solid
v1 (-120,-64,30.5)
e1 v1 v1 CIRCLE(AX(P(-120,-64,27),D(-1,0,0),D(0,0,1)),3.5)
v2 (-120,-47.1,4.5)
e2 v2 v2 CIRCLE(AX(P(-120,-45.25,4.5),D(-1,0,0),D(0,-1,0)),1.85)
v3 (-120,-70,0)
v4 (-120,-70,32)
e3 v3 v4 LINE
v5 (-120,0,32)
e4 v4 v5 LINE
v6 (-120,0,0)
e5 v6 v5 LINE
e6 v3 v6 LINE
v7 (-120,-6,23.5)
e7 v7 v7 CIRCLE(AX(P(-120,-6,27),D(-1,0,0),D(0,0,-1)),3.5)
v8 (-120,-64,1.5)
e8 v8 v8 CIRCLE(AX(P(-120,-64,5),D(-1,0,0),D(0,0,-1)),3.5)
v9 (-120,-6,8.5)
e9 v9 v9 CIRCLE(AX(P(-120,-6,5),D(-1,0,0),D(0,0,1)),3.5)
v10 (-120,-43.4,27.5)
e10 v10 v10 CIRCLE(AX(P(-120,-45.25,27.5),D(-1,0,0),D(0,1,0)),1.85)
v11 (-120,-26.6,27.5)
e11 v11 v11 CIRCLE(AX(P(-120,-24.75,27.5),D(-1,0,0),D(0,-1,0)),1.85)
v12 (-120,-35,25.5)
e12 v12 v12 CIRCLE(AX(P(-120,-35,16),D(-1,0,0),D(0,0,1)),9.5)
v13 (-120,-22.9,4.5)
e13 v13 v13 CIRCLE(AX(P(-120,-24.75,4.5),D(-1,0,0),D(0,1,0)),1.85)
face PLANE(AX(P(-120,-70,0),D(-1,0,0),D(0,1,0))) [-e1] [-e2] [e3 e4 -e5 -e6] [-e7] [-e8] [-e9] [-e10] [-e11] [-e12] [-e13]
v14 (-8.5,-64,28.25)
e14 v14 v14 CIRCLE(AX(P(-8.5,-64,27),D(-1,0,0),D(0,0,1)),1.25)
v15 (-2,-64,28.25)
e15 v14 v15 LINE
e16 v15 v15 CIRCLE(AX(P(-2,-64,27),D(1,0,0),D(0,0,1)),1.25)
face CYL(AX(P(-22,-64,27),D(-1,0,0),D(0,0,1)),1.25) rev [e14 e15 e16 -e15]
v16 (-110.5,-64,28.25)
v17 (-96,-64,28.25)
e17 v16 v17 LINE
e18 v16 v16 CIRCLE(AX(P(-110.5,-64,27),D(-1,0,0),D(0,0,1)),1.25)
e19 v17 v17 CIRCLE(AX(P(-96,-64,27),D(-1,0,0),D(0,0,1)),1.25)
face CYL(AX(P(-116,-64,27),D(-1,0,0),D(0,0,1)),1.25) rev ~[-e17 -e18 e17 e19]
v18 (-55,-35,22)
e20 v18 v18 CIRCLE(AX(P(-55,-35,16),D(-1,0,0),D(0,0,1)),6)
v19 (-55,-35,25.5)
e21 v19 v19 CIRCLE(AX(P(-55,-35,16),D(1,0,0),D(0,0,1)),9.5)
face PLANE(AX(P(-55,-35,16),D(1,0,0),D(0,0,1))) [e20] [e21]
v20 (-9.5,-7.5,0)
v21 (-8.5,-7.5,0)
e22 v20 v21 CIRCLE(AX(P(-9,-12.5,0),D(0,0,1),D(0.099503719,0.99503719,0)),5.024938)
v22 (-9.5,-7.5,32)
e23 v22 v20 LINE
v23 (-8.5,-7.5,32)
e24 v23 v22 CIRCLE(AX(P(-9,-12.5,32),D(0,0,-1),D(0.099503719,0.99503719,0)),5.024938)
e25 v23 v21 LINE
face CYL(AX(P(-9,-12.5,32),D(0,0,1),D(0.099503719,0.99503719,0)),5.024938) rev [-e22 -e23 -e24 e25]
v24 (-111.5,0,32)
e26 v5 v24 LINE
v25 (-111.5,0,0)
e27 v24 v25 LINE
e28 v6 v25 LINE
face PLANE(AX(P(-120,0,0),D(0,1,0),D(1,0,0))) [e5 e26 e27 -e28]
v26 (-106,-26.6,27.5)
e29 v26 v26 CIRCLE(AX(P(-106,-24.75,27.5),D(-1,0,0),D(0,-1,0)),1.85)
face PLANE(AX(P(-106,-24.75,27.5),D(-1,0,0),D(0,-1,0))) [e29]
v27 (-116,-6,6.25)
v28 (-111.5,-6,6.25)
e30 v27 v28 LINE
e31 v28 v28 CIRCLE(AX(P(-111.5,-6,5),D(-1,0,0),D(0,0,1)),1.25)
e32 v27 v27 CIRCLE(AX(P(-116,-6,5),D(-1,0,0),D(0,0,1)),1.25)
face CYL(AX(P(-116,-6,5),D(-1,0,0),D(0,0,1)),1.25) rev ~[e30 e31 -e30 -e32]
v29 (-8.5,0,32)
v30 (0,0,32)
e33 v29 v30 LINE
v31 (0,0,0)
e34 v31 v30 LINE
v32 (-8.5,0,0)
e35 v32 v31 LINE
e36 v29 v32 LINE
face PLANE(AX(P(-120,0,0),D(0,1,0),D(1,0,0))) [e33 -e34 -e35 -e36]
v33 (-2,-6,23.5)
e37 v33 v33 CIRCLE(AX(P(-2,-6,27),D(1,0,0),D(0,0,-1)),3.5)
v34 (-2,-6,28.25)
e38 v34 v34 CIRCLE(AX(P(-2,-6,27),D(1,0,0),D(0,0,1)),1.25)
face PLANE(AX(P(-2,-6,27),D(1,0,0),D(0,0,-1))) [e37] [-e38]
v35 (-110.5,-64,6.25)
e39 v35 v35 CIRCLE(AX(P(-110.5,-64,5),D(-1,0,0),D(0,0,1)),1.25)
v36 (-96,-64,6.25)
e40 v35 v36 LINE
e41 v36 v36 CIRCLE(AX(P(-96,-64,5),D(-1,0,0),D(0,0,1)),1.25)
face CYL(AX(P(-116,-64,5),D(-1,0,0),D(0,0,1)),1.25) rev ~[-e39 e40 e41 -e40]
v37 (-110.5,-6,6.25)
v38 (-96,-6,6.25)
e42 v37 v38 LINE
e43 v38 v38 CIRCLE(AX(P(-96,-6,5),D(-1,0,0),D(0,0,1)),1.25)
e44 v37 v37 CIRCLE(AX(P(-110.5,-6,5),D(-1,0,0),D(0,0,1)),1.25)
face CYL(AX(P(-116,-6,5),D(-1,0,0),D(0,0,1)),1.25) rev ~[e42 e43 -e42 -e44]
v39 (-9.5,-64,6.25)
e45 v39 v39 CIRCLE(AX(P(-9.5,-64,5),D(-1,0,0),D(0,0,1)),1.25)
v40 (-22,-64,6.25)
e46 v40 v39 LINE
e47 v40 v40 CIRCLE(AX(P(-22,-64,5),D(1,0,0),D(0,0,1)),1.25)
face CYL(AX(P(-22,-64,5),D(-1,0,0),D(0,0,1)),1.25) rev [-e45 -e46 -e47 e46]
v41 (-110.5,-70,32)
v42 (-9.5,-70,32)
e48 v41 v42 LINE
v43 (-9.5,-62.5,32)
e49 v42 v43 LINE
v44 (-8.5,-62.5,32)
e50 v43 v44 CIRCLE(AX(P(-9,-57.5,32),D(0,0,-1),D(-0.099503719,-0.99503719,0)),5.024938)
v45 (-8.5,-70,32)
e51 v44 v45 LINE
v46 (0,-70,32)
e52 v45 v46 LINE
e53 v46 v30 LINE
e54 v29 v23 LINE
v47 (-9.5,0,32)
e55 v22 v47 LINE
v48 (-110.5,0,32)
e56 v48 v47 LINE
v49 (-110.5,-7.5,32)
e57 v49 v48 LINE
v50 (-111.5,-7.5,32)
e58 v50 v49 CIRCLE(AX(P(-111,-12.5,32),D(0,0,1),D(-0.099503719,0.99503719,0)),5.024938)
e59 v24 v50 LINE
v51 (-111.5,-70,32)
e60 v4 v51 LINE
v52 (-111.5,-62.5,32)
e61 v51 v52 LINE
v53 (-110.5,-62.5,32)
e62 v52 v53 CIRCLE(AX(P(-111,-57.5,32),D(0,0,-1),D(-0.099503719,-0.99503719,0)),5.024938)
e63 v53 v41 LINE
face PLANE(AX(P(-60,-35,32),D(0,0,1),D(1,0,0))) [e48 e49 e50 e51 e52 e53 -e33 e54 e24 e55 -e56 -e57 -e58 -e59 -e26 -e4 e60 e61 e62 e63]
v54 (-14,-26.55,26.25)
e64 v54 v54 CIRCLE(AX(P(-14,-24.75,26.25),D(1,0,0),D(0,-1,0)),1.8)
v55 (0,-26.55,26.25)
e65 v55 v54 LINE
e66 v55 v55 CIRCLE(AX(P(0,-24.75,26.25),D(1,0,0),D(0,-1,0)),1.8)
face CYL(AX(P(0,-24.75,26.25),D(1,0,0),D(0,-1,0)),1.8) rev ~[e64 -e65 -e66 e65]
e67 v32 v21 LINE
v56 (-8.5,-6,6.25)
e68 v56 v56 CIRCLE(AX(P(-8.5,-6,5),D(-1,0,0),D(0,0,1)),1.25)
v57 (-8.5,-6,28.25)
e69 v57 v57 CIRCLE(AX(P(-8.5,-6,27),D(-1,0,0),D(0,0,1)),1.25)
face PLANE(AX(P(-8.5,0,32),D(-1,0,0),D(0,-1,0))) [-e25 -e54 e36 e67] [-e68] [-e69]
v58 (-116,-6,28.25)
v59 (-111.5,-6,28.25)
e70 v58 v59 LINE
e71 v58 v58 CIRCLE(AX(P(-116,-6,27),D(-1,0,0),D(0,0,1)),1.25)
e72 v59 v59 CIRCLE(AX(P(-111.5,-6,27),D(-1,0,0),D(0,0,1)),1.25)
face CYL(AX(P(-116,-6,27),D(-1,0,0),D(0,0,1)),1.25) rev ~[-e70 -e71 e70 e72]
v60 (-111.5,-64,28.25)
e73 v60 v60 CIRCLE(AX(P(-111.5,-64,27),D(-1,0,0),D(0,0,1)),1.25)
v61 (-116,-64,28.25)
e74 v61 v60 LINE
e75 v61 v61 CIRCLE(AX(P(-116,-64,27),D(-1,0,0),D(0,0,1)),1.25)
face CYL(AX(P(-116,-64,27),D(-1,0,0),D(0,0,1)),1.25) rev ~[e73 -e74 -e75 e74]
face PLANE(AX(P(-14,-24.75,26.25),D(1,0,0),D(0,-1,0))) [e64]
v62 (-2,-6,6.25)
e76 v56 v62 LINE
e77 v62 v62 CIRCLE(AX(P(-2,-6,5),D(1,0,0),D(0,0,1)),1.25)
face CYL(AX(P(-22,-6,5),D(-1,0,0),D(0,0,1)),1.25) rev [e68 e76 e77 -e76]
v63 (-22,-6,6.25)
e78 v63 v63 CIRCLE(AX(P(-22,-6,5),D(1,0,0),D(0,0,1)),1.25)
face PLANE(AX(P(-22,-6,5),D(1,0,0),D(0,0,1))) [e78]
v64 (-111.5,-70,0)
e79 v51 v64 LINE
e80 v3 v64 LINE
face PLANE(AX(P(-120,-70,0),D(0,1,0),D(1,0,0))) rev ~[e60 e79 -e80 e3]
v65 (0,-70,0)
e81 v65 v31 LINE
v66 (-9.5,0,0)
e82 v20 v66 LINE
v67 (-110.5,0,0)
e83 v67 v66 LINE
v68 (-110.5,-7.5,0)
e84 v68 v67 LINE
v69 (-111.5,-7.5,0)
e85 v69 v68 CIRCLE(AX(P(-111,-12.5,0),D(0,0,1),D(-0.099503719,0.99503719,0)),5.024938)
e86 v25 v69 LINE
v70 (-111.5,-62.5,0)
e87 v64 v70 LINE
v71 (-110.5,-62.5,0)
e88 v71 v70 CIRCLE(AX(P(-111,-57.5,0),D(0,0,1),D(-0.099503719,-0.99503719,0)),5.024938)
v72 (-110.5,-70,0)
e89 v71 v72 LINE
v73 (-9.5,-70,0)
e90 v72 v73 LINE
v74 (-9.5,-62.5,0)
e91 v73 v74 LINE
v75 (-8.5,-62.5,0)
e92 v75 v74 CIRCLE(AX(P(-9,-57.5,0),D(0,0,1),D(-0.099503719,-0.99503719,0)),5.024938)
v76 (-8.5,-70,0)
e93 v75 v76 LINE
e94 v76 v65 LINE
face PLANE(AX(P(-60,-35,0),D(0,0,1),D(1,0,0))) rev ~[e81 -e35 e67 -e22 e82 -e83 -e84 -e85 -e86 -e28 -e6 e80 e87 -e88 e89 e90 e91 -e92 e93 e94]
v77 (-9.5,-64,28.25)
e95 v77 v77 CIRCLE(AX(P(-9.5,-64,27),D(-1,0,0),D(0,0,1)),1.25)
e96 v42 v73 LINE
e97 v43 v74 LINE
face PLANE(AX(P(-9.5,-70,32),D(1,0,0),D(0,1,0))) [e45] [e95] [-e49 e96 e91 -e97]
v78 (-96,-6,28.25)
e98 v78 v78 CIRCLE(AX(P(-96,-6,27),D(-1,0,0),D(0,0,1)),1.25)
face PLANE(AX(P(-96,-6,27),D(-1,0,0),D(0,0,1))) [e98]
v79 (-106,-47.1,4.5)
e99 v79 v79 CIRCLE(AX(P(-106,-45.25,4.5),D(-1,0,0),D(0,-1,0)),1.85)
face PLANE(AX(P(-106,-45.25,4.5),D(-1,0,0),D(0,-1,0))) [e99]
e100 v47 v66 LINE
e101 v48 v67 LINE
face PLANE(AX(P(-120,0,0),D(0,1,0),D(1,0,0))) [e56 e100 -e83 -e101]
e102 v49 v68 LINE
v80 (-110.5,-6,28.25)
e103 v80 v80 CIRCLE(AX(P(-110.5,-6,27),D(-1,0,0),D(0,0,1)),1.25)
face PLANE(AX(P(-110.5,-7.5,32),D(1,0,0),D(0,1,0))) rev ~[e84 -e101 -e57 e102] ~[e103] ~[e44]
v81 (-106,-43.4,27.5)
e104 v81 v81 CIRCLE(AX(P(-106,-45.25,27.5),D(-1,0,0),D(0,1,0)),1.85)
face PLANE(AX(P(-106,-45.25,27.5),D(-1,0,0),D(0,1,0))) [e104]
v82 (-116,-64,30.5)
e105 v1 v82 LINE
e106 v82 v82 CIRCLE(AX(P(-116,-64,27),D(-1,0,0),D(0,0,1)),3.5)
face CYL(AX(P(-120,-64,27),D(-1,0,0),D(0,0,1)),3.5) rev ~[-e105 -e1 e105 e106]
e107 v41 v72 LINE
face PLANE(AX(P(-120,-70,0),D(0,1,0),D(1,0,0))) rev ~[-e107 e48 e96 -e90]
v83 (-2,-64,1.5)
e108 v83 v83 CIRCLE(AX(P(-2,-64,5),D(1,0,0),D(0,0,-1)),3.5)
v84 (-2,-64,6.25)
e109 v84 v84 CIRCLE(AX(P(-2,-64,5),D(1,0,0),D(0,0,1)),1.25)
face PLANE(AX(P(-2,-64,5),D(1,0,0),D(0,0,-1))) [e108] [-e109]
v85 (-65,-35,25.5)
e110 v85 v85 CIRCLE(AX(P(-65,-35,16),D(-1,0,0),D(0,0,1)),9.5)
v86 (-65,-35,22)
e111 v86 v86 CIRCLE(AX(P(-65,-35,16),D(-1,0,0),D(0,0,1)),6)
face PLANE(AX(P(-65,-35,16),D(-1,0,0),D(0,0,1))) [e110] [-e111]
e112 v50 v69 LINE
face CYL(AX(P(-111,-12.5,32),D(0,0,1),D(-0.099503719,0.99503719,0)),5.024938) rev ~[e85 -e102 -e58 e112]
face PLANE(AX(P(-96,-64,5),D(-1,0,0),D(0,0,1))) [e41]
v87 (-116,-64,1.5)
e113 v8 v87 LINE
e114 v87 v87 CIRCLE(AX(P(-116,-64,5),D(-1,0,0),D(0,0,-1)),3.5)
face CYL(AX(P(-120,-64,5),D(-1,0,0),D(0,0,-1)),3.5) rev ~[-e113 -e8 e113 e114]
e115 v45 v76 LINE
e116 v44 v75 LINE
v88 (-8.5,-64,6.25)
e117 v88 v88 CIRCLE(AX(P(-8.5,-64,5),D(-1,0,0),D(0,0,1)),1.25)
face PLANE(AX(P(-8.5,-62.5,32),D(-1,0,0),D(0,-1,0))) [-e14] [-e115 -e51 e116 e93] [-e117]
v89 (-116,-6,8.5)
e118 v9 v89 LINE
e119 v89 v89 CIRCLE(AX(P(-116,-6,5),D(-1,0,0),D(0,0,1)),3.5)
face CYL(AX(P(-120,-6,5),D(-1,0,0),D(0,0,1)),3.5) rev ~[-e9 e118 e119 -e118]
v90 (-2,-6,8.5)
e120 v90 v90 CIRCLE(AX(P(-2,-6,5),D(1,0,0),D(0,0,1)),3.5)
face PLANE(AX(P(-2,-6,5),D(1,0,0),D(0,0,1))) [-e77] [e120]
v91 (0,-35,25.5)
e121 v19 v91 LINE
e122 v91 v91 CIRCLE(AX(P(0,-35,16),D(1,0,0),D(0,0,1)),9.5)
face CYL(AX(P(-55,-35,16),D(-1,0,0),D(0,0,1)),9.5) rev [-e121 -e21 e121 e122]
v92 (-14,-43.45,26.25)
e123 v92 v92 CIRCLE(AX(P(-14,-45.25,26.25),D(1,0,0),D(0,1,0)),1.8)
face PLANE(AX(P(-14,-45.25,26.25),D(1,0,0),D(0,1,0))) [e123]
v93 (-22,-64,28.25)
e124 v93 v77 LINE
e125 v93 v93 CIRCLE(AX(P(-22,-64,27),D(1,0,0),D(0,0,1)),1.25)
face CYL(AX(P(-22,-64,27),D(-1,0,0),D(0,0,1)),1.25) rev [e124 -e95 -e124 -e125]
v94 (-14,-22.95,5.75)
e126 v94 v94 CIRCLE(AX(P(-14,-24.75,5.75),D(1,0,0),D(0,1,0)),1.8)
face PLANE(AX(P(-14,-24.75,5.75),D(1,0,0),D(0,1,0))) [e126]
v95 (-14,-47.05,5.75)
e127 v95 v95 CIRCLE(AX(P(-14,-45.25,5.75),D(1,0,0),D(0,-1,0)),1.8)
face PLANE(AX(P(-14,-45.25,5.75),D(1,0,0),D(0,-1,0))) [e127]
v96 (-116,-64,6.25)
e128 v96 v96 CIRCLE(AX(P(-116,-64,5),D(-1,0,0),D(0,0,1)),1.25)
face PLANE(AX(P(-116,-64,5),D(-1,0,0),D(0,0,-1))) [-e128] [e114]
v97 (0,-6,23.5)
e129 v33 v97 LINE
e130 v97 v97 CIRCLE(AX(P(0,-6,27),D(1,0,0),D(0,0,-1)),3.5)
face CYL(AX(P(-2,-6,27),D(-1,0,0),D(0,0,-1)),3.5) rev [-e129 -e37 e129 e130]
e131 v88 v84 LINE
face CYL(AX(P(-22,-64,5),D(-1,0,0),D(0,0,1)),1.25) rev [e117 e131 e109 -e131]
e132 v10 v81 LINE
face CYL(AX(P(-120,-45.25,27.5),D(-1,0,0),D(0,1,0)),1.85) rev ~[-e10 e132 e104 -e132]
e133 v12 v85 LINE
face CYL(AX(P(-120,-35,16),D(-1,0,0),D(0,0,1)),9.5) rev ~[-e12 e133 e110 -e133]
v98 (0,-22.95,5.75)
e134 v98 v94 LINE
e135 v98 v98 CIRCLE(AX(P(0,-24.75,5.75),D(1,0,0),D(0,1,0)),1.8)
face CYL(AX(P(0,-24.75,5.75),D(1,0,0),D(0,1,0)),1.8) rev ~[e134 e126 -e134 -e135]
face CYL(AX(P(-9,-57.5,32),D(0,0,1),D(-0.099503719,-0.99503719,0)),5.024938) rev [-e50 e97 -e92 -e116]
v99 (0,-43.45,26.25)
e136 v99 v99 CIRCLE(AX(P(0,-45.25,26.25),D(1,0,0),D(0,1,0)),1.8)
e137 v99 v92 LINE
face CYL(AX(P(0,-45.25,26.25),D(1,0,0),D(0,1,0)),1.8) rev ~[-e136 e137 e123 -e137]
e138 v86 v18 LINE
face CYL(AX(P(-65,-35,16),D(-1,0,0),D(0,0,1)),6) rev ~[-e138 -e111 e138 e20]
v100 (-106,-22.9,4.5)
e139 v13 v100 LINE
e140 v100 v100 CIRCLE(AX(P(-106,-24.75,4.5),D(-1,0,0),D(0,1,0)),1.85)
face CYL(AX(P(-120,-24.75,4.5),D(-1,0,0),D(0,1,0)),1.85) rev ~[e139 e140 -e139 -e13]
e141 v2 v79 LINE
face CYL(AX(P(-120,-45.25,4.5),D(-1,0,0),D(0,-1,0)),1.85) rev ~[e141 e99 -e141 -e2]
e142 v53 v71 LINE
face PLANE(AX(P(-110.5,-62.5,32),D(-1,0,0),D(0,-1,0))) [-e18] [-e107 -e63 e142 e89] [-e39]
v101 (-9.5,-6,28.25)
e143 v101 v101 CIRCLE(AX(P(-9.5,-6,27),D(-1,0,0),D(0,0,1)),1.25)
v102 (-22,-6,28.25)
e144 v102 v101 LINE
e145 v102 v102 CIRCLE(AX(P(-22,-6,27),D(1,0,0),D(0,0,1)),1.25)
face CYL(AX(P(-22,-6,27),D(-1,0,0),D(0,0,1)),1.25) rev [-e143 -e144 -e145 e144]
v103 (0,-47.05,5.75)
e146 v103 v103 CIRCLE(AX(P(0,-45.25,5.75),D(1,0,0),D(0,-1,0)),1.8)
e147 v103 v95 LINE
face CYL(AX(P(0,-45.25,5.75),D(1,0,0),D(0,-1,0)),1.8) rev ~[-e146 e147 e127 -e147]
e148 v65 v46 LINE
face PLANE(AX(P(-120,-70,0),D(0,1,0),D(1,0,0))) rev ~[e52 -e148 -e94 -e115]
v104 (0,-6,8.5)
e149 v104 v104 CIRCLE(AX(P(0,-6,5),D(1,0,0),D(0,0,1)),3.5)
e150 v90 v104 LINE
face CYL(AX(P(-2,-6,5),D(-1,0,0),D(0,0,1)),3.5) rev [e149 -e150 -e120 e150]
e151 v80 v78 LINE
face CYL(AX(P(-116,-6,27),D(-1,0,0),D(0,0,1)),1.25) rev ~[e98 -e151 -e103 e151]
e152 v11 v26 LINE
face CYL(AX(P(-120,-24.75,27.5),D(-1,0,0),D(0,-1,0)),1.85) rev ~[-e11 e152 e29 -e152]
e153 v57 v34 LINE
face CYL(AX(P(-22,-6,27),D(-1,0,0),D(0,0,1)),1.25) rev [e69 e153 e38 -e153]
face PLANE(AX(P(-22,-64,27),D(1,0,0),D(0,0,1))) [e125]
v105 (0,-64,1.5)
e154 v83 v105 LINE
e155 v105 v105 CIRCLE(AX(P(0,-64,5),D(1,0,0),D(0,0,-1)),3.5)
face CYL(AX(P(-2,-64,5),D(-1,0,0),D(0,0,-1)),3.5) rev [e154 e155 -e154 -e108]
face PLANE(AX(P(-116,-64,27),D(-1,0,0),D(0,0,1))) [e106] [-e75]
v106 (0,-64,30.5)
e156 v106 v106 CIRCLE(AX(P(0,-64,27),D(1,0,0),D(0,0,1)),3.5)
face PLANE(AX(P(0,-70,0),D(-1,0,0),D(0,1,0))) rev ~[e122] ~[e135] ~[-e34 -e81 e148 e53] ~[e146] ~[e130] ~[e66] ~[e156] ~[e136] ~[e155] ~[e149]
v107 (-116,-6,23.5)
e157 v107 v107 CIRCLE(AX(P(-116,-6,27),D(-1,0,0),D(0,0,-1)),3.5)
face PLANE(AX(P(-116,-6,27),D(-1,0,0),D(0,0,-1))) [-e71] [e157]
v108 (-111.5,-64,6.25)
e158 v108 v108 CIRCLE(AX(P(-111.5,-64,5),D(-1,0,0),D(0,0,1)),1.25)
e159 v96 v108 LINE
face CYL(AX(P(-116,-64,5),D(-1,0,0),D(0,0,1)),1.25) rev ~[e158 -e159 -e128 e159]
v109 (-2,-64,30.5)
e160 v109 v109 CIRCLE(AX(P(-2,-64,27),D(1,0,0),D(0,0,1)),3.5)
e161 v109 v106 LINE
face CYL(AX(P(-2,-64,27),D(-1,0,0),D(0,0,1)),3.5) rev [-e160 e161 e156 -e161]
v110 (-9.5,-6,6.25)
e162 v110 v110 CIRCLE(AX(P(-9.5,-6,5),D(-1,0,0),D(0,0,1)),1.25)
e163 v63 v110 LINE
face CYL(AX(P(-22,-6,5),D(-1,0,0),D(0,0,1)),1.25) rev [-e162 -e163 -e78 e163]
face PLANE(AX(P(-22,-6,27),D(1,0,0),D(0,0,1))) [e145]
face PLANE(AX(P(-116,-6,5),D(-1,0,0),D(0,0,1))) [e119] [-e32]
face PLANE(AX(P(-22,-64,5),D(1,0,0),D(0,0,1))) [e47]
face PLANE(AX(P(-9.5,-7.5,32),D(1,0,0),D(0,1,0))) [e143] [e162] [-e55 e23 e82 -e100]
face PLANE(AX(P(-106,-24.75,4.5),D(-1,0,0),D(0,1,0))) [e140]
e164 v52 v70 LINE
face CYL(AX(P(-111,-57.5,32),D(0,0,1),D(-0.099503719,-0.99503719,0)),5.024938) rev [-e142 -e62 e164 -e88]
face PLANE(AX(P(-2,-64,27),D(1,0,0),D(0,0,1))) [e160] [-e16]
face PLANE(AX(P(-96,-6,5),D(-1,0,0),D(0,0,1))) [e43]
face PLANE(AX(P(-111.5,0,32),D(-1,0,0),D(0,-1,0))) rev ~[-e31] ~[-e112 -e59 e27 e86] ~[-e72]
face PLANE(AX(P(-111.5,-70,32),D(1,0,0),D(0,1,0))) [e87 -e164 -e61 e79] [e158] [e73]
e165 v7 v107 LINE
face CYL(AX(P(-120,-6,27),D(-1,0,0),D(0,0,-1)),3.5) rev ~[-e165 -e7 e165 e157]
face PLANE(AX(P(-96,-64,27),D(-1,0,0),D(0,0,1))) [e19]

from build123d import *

# Parameters (mm, degrees)
SKETCH1_W                      = 120
SKETCH1_H                      = 70
BOSS_EXTRUDE1_DEPTH            = 32
SKETCH2_R                      = 9.5
LINEAR_BEARING_CUT_1_DEPTH     = 55
Y_AXIS_SHAFTS_CUT_DEPTH        = 143.562267098
LINEAR_BEARING_CUT_2_START     = -55
SKETCH7_R                      = 9.5
LINEAR_BEARING_CUT_2_DEPTH     = 55
SKETCH6_R                      = 6
BETWEEN_BEARINGS_DEPTH         = 101.742245359
SKETCH8_R                      = 3.5
SHAFT_HOLDER_SCREW_CUT_DEPTH   = 4
SKETCH9_R                      = 1.25
SHAFT_HOLDER_SCREW_CUT2_DEPTH  = 20
SHAFT_HOLDER_SCREW_CUT_3_START = -2
SKETCH10_R                     = 3.5
SHAFT_HOLDER_SCREW_CUT_3_DEPTH = 2
SHAFT_HOLDER_SCREW_CUT_4_START = -20
SKETCH11_R                     = 1.25
SHAFT_HOLDER_SCREW_CUT_4_DEPTH = 20
SKETCH12_R                     = 1.8
LINEAR_BEARING_SREW1_DEPTH     = 14
SKETCH13_R                     = 1.85
LINEAR_BEARING_SCREW2_DEPTH    = 14


with BuildPart() as part:
    # Sketch1 → Boss-Extrude1 (new body)
    with BuildSketch(Plane.XY):
        with Locations((-60, -35)):
            Rectangle(SKETCH1_W, SKETCH1_H)
    extrude(amount=BOSS_EXTRUDE1_DEPTH)

    # Sketch2 → Linear_bearing-cut-1 (cut)
    with BuildSketch(Plane.ZY.offset(120)):
        with Locations((16, -35)):
            Circle(SKETCH2_R)
    extrude(amount=-LINEAR_BEARING_CUT_1_DEPTH, mode=Mode.SUBTRACT)

    # Sketch5 → Y-axis-shafts-cut (cut, through all)
    with BuildSketch(Plane.XY.offset(32)):
        with BuildLine():
            Line((-111.5, 0), (-111.5, -7.5))
            ThreePointArc((-111.5, -7.5), (-111, -17.524937811), (-110.5, -7.5))
            Line((-110.5, -7.5), (-110.5, 0))
            Line((-110.5, 0), (-111.5, 0))
        make_face()
        with BuildLine():
            Line((-8.5, 0), (-8.5, -7.5))
            ThreePointArc((-8.5, -7.5), (-9, -17.524937811), (-9.5, -7.5))
            Line((-9.5, -7.5), (-9.5, 0))
            Line((-9.5, 0), (-8.5, 0))
        make_face()
        with BuildLine():
            Line((-111.5, -70), (-111.5, -62.5))
            ThreePointArc((-111.5, -62.5), (-111, -52.475062189), (-110.5, -62.5))
            Line((-110.5, -62.5), (-110.5, -70))
            Line((-110.5, -70), (-111.5, -70))
        make_face()
        with BuildLine():
            Line((-9.5, -70), (-9.5, -62.5))
            ThreePointArc((-9.5, -62.5), (-9, -52.475062189), (-8.5, -62.5))
            Line((-8.5, -62.5), (-8.5, -70))
            Line((-8.5, -70), (-9.5, -70))
        make_face()
    extrude(amount=-Y_AXIS_SHAFTS_CUT_DEPTH, mode=Mode.SUBTRACT)

    # Sketch7 → Linear-bearing-cut-2 (cut)
    with BuildSketch(Plane(origin=(0, 0, 0), x_dir=(0, 0, -1), z_dir=(1, 0, 0)).offset(LINEAR_BEARING_CUT_2_START)):
        with Locations(Location((-16, -35, 0), (0, 0, 180))):
            Circle(SKETCH7_R)
    extrude(amount=LINEAR_BEARING_CUT_2_DEPTH, mode=Mode.SUBTRACT)

    # Sketch6 → between-bearings (cut, through all)
    with BuildSketch(Plane.ZY.offset(65)):
        with Locations((16, -35)):
            Circle(SKETCH6_R)
    extrude(amount=-BETWEEN_BEARINGS_DEPTH, mode=Mode.SUBTRACT)

    # Sketch8 → shaft-holder-screw-cut (cut)
    with BuildSketch(Plane.ZY.offset(120)):
        with Locations((5, -6)):
            Circle(SKETCH8_R)
        with Locations(Location((27, -6, 0), (0, 0, 180))):
            Circle(SKETCH8_R)
        with Locations((27, -64)):
            Circle(SKETCH8_R)
        with Locations(Location((5, -64, 0), (0, 0, 180))):
            Circle(SKETCH8_R)
    extrude(amount=-SHAFT_HOLDER_SCREW_CUT_DEPTH, mode=Mode.SUBTRACT)

    # Sketch9 → shaft-holder-screw-cut2 (cut)
    with BuildSketch(Plane.ZY.offset(116)):
        with Locations((5, -6)):
            Circle(SKETCH9_R)
        with Locations((27, -6)):
            Circle(SKETCH9_R)
        with Locations((5, -64)):
            Circle(SKETCH9_R)
        with Locations((27, -64)):
            Circle(SKETCH9_R)
    extrude(amount=-SHAFT_HOLDER_SCREW_CUT2_DEPTH, mode=Mode.SUBTRACT)

    # Sketch10 → shaft-holder-screw-cut-3 (cut)
    with BuildSketch(Plane(origin=(0, 0, 0), x_dir=(0, 0, -1), z_dir=(1, 0, 0)).offset(SHAFT_HOLDER_SCREW_CUT_3_START)):
        with Locations((-27, -6)):
            Circle(SKETCH10_R)
        with Locations(Location((-5, -6, 0), (0, 0, 180))):
            Circle(SKETCH10_R)
        with Locations((-5, -64)):
            Circle(SKETCH10_R)
        with Locations(Location((-27, -64, 0), (0, 0, 180))):
            Circle(SKETCH10_R)
    extrude(amount=SHAFT_HOLDER_SCREW_CUT_3_DEPTH, mode=Mode.SUBTRACT)

    # Sketch11 → shaft-holder-screw-cut-4 (cut)
    with BuildSketch(Plane(origin=(-2, 0, 0), x_dir=(0, 0, -1), z_dir=(1, 0, 0)).offset(SHAFT_HOLDER_SCREW_CUT_4_START)):
        with Locations(Location((-27, -6, 0), (0, 0, 180))):
            Circle(SKETCH11_R)
        with Locations(Location((-5, -6, 0), (0, 0, 180))):
            Circle(SKETCH11_R)
        with Locations(Location((-5, -64, 0), (0, 0, 180))):
            Circle(SKETCH11_R)
        with Locations(Location((-27, -64, 0), (0, 0, 180))):
            Circle(SKETCH11_R)
    extrude(amount=SHAFT_HOLDER_SCREW_CUT_4_DEPTH, mode=Mode.SUBTRACT)

    # Sketch12 → Linear-bearing-srew1 (cut)
    with BuildSketch(Plane(origin=(0, 0, 0), x_dir=(0, 0, -1), z_dir=(1, 0, 0))):
        with Locations(Location((-5.75, -24.75, 0), (0, 0, 90))):
            Circle(SKETCH12_R)
        with Locations(Location((-26.25, -24.75, 0), (0, 0, 270))):
            Circle(SKETCH12_R)
        with Locations(Location((-5.75, -45.25, 0), (0, 0, 270))):
            Circle(SKETCH12_R)
        with Locations(Location((-26.25, -45.25, 0), (0, 0, 90))):
            Circle(SKETCH12_R)
    extrude(amount=-LINEAR_BEARING_SREW1_DEPTH, mode=Mode.SUBTRACT)

    # Sketch13 → Linear-bearing-screw2 (cut)
    with BuildSketch(Plane.ZY.offset(120)):
        with Locations(Location((27.5, -24.75, 0), (0, 0, 270))):
            Circle(SKETCH13_R)
        with Locations(Location((4.5, -24.75, 0), (0, 0, 90))):
            Circle(SKETCH13_R)
        with Locations(Location((27.5, -45.25, 0), (0, 0, 90))):
            Circle(SKETCH13_R)
        with Locations(Location((4.5, -45.25, 0), (0, 0, 270))):
            Circle(SKETCH13_R)
    extrude(amount=-LINEAR_BEARING_SCREW2_DEPTH, mode=Mode.SUBTRACT)


solid = part.part
